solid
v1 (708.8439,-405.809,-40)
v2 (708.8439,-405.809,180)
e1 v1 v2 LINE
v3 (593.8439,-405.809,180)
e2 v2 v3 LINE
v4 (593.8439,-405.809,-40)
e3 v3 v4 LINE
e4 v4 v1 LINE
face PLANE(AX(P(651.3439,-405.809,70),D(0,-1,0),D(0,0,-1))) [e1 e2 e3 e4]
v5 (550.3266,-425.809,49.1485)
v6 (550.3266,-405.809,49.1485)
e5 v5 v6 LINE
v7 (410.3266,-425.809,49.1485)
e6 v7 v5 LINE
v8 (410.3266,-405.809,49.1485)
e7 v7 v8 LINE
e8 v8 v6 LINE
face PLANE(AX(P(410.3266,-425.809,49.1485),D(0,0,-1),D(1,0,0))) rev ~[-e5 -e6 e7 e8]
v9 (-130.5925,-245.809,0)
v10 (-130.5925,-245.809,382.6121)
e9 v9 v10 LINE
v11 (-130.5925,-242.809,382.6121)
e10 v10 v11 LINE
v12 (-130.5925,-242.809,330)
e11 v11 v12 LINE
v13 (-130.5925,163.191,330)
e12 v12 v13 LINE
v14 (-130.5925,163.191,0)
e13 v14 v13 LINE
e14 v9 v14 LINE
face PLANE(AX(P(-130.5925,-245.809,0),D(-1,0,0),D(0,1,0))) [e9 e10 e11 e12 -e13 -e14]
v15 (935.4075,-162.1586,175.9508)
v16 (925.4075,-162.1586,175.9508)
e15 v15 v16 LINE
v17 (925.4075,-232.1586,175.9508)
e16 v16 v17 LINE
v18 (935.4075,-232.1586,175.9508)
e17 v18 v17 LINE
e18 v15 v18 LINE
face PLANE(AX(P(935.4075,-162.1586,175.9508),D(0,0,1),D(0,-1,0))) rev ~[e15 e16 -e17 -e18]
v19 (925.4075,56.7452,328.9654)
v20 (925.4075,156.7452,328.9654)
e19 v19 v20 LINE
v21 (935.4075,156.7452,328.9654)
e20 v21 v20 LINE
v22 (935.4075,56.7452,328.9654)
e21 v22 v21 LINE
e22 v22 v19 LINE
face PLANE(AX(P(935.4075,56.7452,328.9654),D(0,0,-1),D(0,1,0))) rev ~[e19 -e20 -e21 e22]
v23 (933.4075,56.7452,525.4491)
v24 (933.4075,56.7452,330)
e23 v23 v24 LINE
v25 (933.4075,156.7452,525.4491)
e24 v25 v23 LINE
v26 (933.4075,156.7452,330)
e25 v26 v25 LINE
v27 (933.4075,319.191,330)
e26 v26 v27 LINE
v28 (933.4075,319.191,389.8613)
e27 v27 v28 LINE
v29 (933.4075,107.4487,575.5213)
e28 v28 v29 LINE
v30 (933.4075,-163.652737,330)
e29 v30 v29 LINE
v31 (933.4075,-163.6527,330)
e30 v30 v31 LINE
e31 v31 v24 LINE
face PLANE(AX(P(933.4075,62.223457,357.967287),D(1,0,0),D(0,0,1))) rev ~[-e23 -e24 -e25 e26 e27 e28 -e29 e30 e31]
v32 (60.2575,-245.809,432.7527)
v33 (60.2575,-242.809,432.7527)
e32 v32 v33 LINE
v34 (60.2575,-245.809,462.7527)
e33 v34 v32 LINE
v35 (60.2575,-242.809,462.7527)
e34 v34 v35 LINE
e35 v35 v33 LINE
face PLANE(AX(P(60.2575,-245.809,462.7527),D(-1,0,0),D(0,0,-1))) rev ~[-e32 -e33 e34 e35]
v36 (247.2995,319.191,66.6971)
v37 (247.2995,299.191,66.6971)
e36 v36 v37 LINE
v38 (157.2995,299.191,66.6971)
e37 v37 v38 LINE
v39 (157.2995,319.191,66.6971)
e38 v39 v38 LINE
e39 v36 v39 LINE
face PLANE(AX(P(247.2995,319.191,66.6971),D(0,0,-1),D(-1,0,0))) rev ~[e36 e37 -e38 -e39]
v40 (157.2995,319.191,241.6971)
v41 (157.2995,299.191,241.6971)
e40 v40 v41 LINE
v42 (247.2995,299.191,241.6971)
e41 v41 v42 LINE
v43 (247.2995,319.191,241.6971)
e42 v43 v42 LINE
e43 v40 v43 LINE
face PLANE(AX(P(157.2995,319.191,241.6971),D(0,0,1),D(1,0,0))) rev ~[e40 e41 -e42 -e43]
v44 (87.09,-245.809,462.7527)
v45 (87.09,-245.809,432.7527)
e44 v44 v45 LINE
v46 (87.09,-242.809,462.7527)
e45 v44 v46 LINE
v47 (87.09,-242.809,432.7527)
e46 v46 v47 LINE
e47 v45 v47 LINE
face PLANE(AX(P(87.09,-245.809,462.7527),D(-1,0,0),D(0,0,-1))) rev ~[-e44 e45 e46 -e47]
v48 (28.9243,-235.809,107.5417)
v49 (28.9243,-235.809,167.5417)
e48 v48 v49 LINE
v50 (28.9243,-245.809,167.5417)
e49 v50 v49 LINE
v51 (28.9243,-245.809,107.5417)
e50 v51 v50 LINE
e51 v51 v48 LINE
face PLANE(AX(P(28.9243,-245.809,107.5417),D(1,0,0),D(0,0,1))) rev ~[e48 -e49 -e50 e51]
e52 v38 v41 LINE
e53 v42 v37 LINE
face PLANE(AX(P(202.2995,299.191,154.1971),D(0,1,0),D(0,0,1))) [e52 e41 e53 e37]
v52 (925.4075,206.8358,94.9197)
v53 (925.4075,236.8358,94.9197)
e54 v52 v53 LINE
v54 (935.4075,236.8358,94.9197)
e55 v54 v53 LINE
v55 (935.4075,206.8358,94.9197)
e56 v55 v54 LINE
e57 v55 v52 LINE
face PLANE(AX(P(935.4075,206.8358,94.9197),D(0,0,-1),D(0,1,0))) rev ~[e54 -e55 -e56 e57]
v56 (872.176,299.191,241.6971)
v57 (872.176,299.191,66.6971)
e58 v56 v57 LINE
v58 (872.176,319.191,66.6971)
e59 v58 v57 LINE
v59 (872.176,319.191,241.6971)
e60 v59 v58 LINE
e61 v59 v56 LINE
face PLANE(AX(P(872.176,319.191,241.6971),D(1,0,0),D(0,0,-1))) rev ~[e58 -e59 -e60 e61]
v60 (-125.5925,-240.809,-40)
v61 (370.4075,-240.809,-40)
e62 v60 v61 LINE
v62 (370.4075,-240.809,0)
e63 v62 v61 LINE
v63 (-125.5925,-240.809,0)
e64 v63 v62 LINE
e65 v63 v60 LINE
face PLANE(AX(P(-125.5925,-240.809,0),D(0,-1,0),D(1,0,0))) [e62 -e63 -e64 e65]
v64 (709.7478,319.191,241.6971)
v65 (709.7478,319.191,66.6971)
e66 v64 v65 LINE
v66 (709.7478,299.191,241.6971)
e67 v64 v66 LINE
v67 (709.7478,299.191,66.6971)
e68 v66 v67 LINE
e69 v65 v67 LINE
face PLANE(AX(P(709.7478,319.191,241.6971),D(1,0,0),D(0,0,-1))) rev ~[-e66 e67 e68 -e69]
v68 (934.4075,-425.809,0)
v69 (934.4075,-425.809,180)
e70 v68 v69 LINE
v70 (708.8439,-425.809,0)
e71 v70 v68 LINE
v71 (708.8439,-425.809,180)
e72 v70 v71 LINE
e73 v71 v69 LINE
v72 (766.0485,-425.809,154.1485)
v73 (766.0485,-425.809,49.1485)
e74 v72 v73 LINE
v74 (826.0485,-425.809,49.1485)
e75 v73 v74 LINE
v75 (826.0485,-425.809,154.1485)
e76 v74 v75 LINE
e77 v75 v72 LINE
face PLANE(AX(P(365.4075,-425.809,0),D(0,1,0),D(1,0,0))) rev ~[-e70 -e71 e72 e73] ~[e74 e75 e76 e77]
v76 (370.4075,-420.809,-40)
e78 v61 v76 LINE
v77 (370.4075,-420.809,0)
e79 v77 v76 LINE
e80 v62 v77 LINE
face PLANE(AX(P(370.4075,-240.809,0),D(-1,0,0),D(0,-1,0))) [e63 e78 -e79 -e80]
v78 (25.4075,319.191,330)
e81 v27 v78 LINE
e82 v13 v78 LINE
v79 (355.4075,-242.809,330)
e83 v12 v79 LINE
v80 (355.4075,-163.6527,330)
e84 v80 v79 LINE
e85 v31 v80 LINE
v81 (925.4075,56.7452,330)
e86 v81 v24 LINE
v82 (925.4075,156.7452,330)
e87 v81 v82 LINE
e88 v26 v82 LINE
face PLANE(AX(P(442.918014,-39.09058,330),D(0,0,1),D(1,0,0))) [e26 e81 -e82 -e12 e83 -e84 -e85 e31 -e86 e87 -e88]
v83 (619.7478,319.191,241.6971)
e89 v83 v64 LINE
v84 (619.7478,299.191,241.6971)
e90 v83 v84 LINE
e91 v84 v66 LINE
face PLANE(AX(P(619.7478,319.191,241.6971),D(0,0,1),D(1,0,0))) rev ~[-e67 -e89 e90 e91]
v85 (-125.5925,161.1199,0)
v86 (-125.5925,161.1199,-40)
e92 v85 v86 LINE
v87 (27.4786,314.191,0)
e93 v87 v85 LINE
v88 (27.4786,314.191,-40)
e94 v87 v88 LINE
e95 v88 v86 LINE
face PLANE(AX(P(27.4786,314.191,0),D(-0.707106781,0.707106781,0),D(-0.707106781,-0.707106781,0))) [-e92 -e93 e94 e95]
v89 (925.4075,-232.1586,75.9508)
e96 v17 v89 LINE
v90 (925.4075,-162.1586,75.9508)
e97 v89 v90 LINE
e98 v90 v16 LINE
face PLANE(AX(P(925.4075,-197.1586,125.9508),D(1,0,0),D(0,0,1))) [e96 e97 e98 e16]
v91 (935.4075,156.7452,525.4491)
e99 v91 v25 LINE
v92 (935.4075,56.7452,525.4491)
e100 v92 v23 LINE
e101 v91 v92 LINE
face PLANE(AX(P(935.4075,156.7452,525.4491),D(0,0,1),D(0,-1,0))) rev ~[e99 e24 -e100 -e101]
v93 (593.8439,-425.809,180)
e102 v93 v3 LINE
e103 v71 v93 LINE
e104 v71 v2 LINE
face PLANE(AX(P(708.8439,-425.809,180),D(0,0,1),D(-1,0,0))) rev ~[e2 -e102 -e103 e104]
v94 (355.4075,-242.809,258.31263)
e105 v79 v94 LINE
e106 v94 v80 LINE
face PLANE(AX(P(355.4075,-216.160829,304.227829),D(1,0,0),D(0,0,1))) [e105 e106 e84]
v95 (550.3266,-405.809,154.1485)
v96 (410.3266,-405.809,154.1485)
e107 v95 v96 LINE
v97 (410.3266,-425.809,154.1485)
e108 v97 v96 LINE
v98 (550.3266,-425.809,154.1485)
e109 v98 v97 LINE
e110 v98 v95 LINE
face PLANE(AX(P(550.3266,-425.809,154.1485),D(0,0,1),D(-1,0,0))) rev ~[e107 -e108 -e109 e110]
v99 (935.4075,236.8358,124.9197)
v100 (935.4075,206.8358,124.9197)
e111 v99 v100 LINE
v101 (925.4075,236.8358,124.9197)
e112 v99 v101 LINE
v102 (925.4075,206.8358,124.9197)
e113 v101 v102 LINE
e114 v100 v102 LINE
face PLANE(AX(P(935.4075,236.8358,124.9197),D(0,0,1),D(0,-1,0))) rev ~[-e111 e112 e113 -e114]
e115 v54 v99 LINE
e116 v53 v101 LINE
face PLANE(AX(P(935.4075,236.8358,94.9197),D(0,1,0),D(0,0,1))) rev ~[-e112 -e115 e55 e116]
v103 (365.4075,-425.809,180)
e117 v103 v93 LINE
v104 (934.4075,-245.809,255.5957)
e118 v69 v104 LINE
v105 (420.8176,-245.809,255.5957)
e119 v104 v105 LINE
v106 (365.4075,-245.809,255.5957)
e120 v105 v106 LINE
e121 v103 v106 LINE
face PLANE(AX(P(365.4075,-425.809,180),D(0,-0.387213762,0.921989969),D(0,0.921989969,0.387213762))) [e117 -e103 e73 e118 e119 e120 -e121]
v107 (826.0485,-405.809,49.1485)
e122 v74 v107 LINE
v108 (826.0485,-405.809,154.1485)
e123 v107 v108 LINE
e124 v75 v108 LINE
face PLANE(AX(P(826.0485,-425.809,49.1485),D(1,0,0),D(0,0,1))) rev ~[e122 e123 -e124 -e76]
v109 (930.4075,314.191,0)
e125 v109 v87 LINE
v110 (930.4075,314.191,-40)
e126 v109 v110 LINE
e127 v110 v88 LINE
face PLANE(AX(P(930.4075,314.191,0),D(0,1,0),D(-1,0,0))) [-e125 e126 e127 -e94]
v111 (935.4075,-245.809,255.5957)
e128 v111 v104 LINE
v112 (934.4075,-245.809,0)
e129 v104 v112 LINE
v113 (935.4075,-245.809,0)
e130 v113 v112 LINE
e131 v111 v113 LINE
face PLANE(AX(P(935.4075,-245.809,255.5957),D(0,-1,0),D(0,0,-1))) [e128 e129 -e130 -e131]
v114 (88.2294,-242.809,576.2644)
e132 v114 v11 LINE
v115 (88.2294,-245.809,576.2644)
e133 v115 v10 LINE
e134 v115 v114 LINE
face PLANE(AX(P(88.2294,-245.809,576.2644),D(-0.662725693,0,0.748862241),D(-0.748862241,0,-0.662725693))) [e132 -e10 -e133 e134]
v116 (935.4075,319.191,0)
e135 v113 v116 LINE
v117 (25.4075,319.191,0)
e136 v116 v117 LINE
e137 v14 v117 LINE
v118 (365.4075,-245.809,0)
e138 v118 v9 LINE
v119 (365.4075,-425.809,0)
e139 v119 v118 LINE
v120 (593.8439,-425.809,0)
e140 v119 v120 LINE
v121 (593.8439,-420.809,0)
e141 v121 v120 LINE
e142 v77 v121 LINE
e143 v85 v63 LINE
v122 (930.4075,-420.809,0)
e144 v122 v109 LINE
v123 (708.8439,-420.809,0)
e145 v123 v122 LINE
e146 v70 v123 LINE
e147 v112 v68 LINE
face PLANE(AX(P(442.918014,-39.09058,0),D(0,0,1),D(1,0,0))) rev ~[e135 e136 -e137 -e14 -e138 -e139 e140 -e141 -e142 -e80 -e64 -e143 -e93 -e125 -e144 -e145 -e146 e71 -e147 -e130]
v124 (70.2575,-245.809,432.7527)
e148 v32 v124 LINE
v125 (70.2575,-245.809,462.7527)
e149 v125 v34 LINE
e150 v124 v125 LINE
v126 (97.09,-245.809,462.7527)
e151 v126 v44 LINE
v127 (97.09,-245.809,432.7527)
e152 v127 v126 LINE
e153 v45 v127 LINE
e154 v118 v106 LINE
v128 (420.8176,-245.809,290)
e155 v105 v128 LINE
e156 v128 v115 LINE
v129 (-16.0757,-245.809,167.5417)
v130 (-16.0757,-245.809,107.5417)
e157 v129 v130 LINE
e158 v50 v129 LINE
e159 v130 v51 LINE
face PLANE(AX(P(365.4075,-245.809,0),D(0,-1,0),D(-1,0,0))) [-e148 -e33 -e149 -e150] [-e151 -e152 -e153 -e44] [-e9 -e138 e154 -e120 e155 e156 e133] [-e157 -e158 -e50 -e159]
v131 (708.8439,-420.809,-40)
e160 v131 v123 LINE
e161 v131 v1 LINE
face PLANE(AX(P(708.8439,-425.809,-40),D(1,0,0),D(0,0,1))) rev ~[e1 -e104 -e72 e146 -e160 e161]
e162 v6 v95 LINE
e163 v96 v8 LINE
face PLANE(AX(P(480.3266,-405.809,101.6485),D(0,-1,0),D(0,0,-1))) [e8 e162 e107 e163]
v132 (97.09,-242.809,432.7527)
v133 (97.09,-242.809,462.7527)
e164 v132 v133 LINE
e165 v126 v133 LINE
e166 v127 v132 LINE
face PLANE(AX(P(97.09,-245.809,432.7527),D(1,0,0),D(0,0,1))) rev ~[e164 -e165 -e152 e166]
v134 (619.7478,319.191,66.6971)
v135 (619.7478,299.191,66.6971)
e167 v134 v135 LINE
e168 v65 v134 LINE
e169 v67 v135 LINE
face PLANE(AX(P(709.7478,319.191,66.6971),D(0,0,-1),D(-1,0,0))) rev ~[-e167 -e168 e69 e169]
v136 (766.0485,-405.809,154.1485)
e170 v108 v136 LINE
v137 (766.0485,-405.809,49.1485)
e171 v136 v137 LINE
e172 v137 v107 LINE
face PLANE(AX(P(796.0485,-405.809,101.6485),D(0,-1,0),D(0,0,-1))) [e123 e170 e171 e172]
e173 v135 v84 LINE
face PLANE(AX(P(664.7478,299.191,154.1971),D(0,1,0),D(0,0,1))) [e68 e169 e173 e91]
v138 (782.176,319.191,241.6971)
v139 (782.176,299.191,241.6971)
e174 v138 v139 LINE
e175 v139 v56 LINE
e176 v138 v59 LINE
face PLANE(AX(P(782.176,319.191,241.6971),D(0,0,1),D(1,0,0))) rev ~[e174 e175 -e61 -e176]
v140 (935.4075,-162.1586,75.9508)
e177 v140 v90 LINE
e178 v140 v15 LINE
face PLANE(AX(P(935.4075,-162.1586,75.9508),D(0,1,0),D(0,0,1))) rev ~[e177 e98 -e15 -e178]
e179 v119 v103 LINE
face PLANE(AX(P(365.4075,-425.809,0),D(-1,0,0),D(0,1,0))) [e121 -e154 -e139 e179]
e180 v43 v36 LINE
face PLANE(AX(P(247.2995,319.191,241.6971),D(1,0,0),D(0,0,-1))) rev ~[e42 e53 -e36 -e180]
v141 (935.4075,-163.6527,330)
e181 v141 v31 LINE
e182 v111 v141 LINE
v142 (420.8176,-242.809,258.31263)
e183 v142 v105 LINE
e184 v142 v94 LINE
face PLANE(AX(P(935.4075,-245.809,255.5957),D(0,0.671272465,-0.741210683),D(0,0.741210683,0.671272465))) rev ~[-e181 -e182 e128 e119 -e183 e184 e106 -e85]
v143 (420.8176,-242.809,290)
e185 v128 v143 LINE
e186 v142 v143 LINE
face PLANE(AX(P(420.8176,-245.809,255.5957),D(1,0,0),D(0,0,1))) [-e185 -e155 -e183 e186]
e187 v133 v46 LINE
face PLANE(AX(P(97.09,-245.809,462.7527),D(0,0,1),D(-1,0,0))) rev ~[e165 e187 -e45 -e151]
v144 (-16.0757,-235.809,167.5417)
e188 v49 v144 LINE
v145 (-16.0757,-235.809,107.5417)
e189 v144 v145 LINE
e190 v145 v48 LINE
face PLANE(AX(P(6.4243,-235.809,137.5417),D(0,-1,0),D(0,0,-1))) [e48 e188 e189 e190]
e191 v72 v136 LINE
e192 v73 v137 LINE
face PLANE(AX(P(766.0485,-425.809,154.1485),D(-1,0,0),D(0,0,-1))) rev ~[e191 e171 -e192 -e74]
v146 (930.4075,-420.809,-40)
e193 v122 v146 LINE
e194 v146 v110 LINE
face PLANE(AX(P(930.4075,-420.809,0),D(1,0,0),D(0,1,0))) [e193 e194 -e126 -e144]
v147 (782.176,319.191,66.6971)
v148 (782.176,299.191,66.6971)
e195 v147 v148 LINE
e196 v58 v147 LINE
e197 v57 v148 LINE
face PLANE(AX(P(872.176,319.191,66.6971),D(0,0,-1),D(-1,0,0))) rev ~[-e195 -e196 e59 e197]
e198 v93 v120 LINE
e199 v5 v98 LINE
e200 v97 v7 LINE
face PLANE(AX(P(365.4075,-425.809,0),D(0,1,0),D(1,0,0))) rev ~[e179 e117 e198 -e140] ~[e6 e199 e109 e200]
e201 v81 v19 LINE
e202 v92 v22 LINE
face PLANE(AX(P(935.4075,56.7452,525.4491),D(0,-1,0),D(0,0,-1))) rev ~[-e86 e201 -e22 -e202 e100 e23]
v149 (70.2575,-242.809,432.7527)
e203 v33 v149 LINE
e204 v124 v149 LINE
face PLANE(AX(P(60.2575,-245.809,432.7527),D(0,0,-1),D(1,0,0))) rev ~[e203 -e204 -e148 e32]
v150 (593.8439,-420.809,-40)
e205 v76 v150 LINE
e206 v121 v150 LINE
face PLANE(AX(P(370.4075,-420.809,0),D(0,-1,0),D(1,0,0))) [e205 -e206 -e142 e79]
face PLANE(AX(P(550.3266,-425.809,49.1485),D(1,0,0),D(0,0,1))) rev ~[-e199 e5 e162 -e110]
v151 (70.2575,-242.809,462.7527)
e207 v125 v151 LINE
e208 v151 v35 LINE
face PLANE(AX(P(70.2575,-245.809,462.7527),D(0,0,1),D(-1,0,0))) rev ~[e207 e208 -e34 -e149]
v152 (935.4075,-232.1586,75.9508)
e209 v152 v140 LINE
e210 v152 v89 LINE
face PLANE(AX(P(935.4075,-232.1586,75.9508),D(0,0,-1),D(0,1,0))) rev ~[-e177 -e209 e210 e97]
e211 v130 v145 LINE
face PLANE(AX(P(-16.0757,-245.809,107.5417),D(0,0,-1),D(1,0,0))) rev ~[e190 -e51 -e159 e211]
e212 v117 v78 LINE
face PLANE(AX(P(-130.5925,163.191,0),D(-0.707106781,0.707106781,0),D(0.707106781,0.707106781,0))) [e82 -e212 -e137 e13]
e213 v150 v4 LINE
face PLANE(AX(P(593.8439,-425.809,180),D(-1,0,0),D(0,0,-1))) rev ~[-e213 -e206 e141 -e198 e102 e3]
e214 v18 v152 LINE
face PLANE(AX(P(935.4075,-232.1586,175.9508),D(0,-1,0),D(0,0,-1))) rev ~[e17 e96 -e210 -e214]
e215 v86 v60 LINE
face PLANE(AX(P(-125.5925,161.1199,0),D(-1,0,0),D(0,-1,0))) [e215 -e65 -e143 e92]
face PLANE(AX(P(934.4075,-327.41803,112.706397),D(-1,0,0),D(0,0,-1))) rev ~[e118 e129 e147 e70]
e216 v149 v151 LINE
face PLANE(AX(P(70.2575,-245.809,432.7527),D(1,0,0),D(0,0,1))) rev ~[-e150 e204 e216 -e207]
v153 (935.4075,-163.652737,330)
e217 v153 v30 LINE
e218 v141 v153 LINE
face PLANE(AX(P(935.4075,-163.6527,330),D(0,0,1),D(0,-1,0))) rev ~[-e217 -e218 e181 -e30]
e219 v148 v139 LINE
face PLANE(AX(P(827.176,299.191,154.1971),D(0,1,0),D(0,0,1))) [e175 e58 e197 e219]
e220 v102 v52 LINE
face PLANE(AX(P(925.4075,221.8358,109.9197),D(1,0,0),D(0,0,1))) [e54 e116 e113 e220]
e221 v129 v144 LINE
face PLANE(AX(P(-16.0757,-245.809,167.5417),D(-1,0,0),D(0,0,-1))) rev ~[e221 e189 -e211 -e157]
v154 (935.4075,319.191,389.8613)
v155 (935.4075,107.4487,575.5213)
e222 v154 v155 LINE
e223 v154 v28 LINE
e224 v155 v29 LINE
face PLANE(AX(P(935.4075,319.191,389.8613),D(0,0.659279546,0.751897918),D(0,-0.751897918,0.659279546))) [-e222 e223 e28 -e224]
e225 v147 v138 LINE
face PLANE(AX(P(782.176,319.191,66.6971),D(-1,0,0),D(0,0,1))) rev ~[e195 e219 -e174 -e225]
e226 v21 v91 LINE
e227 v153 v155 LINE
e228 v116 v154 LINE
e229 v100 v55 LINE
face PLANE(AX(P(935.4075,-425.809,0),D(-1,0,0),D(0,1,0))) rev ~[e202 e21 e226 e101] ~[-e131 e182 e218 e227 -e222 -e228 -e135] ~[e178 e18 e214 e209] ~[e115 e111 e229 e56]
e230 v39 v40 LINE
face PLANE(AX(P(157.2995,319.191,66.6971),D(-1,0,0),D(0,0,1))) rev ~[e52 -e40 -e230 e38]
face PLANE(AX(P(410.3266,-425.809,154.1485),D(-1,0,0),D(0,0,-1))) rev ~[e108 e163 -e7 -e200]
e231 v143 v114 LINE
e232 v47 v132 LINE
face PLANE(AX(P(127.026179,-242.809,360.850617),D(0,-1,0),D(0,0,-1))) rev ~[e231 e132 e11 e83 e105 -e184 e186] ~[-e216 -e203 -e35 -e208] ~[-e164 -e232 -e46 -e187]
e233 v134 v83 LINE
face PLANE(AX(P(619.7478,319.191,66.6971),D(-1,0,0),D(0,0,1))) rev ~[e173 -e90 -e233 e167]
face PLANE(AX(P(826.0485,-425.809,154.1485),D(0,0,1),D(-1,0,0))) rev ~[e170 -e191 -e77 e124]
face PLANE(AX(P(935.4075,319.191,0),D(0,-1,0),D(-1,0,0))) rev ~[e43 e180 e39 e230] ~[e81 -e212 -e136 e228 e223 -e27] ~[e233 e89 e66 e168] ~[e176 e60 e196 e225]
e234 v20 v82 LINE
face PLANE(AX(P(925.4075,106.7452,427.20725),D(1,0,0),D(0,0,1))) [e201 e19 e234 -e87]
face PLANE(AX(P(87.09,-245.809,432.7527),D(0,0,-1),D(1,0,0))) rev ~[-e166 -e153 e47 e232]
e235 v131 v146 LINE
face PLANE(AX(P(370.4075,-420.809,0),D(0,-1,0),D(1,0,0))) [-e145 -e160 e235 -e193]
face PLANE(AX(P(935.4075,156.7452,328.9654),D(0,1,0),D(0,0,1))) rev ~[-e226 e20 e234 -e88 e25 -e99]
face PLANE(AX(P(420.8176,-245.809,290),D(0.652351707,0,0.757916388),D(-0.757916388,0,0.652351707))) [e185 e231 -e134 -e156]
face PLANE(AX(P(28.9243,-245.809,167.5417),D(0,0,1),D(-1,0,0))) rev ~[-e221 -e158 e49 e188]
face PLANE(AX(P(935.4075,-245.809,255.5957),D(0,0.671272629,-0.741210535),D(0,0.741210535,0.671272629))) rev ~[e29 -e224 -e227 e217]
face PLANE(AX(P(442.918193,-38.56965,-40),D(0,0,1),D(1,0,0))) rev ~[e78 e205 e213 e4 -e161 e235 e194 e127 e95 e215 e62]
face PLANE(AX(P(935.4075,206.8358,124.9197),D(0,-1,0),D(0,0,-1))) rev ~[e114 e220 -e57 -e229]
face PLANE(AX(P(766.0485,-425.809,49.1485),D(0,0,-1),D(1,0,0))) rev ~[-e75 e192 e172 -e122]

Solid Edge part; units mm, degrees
sketch "Sketch1" plane through (0, 0, 0) normal (0, 0, 1) x (1, 0, 0)
  line L0 (365.4075, -425.809) -> (935.4075, -425.809)
  line L1 (935.4075, -425.809) -> (935.4075, 319.191)
  line L2 (935.4075, 319.191) -> (25.4075, 319.191)
  line L3 (-130.5925, 163.191) -> (25.4075, 319.191)
  line L4 (-130.5925, -245.809) -> (-130.5925, 163.191)
  line L5 (365.4075, -245.809) -> (-130.5925, -245.809)
  line L6 (365.4075, -425.809) -> (365.4075, -245.809)
  dimension "D1" = 409
  dimension "D2" = 496
  dimension "D3" = 180
  dimension "D4" = 570
  dimension "D5" = 745
  dimension "D6" = 910
  dimension "D7" = 220.6173
extrude "Protrusion1" add sketch "Sketch1" along normal blind 330
sketch "Sketch2" plane through (365.4075, -335.809, 165) normal (-1, 0, 0) x (0, -1, 0)
  line L0 (90, 15) -> (-90, 90.5957)
  line L1 (-90, 90.5957) -> (-90, 165)
  line L2 (-90, 165) -> (90, 165)
  line L3 (90, 165) -> (90, 15)
extrude "Cutout1" cut sketch "Sketch2" against normal blind 730
sketch "Sketch3" plane through (935.4075, -53.309, 165) normal (1, 0, 0) x (0, 1, 0)
  line L0 (372.5, 90.5957) -> (372.5, 224.8613)
  line L1 (372.5, 224.8613) -> (160.7577, 410.5213)
  line L2 (-192.5, 90.5957) -> (160.7577, 410.5213)
  line L3 (-192.5, 90.5957) -> (372.5, 90.5957)
extrude "Protrusion2" add sketch "Sketch3" against normal blind 2
sketch "Sketch4" plane through (935.4075, -53.309, 261.575) normal (1, 0, 0) x (0, 1, 0)
  line L0 (-192.5, -5.9793) -> (-110.3437, 68.425)
  line L1 (-110.3437, 68.425) -> (-192.5, 68.425)
  line L2 (-192.5, 68.425) -> (-192.5, -5.9793)
extrude "ExtrudedCutout_40" cut sketch "Sketch4" against normal blind 580
sketch "Sketch5" plane through (117.4075, -245.809, 165) normal (0, -1, 0) x (1, 0, 0)
  line L0 (303.4101, 90.5957) -> (303.4101, 125)
  line L1 (303.4101, 125) -> (-29.1781, 411.2644)
  line L2 (-29.1781, 411.2644) -> (-248, 217.6121)
  line L3 (-248, 217.6121) -> (-248, 90.5957)
  line L4 (-248, 90.5957) -> (303.4101, 90.5957)
extrude "Protrusion3" add sketch "Sketch5" against normal blind 3
sketch "Sketch6" plane through (402.4075, -53.309, 0) normal (0, 0, -1) x (1, 0, 0)
  line L0 (528, 367.5) -> (528, -367.5)
  line L1 (528, -367.5) -> (-374.9289, -367.5)
  line L2 (-374.9289, -367.5) -> (-528, -214.4289)
  line L3 (-528, -214.4289) -> (-528, 187.5)
  line L4 (-528, 187.5) -> (-32, 187.5)
  line L5 (-32, 187.5) -> (-32, 367.5)
  line L6 (-32, 367.5) -> (528, 367.5)
extrude "ExtrudedProtrusion_65" add sketch "Sketch6" along normal blind 40
sketch "Sketch7" plane through (935.4075, -53.309, 261.575) normal (1, 0, 0) x (0, 1, 0)
  line L0 (110.0542, 67.3904) -> (210.0542, 67.3904)
  line L1 (210.0542, 67.3904) -> (210.0542, 263.8741)
  line L2 (210.0542, 263.8741) -> (110.0542, 263.8741)
  line L3 (110.0542, 263.8741) -> (110.0542, 67.3904)
  line L4 (-178.8496, -185.6242) -> (-108.8496, -185.6242)
  line L5 (-108.8496, -185.6242) -> (-108.8496, -85.6242)
  line L6 (-108.8496, -85.6242) -> (-178.8496, -85.6242)
  line L7 (-178.8496, -85.6242) -> (-178.8496, -185.6242)
  line L8 (260.1448, -166.6553) -> (290.1448, -166.6553)
  line L9 (290.1448, -166.6553) -> (290.1448, -136.6553)
  line L10 (290.1448, -136.6553) -> (260.1448, -136.6553)
  line L11 (260.1448, -136.6553) -> (260.1448, -166.6553)
extrude "Cutout2" cut sketch "Sketch7" against normal blind 10
sketch "Sketch8" plane through (650.4075, -425.809, 90) normal (0, -1, 0) x (1, 0, 0)
  line L0 (-56.5636, -130) -> (58.4364, -130)
  line L1 (58.4364, -130) -> (58.4364, 90)
  line L2 (58.4364, 90) -> (-56.5636, 90)
  line L3 (-56.5636, 90) -> (-56.5636, -130)
  line L4 (115.641, -40.8515) -> (175.641, -40.8515)
  line L5 (175.641, -40.8515) -> (175.641, 64.1485)
  line L6 (175.641, 64.1485) -> (115.641, 64.1485)
  line L7 (115.641, 64.1485) -> (115.641, -40.8515)
  line L8 (-240.0809, -40.8515) -> (-100.0809, -40.8515)
  line L9 (-100.0809, -40.8515) -> (-100.0809, 64.1485)
  line L10 (-100.0809, 64.1485) -> (-240.0809, 64.1485)
  line L11 (-240.0809, 64.1485) -> (-240.0809, -40.8515)
extrude "ExtrudedCutout_42" cut sketch "Sketch8" against normal blind 20
sketch "Sketch9" plane through (145.1125, -245.809, 288.1322) normal (0, -1, 0) x (1, 0, 0)
  line L0 (-161.1882, -180.5905) -> (-116.1882, -180.5905)
  line L1 (-116.1882, -180.5905) -> (-116.1882, -120.5905)
  line L2 (-116.1882, -120.5905) -> (-161.1882, -120.5905)
  line L3 (-161.1882, -120.5905) -> (-161.1882, -180.5905)
  line L4 (-58.0225, 144.6205) -> (-48.0225, 144.6205)
  line L5 (-48.0225, 144.6205) -> (-48.0225, 174.6205)
  line L6 (-48.0225, 174.6205) -> (-58.0225, 174.6205)
  line L7 (-58.0225, 174.6205) -> (-58.0225, 144.6205)
  line L8 (-84.855, 144.6205) -> (-74.855, 144.6205)
  line L9 (-74.855, 144.6205) -> (-74.855, 174.6205)
  line L10 (-74.855, 174.6205) -> (-84.855, 174.6205)
  line L11 (-84.855, 174.6205) -> (-84.855, 144.6205)
extrude "Cutout3" cut sketch "Sketch9" against normal blind 10
sketch "Sketch10" plane through (480.4075, 319.191, 194.9306) normal (0, 1, 0) x (-1, 0, 0)
  line L0 (-391.7685, -128.2335) -> (-301.7685, -128.2335)
  line L1 (-301.7685, -128.2335) -> (-301.7685, 46.7665)
  line L2 (-301.7685, 46.7665) -> (-391.7685, 46.7665)
  line L3 (-391.7685, 46.7665) -> (-391.7685, -128.2335)
  line L4 (-229.3403, -128.2335) -> (-139.3403, -128.2335)
  line L5 (-139.3403, -128.2335) -> (-139.3403, 46.7665)
  line L6 (-139.3403, 46.7665) -> (-229.3403, 46.7665)
  line L7 (-229.3403, 46.7665) -> (-229.3403, -128.2335)
  line L8 (233.108, -128.2335) -> (323.108, -128.2335)
  line L9 (323.108, -128.2335) -> (323.108, 46.7665)
  line L10 (323.108, 46.7665) -> (233.108, 46.7665)
  line L11 (233.108, 46.7665) -> (233.108, -128.2335)
extrude "Cutout4" cut sketch "Sketch10" against normal blind 20
sketch "Sketch11" plane through (935.4075, -53.309, 287.7607) normal (1, 0, 0) x (0, 1, 0)
  line L0 (-372.5, -107.7607) -> (-192.5, -32.165)
  line L1 (-192.5, -32.165) -> (-192.5, -287.7607)
  line L2 (-192.5, -287.7607) -> (-372.5, -287.7607)
  line L3 (-372.5, -287.7607) -> (-372.5, -107.7607)
extrude "Cutout5" cut sketch "Sketch11" against normal blind 1
